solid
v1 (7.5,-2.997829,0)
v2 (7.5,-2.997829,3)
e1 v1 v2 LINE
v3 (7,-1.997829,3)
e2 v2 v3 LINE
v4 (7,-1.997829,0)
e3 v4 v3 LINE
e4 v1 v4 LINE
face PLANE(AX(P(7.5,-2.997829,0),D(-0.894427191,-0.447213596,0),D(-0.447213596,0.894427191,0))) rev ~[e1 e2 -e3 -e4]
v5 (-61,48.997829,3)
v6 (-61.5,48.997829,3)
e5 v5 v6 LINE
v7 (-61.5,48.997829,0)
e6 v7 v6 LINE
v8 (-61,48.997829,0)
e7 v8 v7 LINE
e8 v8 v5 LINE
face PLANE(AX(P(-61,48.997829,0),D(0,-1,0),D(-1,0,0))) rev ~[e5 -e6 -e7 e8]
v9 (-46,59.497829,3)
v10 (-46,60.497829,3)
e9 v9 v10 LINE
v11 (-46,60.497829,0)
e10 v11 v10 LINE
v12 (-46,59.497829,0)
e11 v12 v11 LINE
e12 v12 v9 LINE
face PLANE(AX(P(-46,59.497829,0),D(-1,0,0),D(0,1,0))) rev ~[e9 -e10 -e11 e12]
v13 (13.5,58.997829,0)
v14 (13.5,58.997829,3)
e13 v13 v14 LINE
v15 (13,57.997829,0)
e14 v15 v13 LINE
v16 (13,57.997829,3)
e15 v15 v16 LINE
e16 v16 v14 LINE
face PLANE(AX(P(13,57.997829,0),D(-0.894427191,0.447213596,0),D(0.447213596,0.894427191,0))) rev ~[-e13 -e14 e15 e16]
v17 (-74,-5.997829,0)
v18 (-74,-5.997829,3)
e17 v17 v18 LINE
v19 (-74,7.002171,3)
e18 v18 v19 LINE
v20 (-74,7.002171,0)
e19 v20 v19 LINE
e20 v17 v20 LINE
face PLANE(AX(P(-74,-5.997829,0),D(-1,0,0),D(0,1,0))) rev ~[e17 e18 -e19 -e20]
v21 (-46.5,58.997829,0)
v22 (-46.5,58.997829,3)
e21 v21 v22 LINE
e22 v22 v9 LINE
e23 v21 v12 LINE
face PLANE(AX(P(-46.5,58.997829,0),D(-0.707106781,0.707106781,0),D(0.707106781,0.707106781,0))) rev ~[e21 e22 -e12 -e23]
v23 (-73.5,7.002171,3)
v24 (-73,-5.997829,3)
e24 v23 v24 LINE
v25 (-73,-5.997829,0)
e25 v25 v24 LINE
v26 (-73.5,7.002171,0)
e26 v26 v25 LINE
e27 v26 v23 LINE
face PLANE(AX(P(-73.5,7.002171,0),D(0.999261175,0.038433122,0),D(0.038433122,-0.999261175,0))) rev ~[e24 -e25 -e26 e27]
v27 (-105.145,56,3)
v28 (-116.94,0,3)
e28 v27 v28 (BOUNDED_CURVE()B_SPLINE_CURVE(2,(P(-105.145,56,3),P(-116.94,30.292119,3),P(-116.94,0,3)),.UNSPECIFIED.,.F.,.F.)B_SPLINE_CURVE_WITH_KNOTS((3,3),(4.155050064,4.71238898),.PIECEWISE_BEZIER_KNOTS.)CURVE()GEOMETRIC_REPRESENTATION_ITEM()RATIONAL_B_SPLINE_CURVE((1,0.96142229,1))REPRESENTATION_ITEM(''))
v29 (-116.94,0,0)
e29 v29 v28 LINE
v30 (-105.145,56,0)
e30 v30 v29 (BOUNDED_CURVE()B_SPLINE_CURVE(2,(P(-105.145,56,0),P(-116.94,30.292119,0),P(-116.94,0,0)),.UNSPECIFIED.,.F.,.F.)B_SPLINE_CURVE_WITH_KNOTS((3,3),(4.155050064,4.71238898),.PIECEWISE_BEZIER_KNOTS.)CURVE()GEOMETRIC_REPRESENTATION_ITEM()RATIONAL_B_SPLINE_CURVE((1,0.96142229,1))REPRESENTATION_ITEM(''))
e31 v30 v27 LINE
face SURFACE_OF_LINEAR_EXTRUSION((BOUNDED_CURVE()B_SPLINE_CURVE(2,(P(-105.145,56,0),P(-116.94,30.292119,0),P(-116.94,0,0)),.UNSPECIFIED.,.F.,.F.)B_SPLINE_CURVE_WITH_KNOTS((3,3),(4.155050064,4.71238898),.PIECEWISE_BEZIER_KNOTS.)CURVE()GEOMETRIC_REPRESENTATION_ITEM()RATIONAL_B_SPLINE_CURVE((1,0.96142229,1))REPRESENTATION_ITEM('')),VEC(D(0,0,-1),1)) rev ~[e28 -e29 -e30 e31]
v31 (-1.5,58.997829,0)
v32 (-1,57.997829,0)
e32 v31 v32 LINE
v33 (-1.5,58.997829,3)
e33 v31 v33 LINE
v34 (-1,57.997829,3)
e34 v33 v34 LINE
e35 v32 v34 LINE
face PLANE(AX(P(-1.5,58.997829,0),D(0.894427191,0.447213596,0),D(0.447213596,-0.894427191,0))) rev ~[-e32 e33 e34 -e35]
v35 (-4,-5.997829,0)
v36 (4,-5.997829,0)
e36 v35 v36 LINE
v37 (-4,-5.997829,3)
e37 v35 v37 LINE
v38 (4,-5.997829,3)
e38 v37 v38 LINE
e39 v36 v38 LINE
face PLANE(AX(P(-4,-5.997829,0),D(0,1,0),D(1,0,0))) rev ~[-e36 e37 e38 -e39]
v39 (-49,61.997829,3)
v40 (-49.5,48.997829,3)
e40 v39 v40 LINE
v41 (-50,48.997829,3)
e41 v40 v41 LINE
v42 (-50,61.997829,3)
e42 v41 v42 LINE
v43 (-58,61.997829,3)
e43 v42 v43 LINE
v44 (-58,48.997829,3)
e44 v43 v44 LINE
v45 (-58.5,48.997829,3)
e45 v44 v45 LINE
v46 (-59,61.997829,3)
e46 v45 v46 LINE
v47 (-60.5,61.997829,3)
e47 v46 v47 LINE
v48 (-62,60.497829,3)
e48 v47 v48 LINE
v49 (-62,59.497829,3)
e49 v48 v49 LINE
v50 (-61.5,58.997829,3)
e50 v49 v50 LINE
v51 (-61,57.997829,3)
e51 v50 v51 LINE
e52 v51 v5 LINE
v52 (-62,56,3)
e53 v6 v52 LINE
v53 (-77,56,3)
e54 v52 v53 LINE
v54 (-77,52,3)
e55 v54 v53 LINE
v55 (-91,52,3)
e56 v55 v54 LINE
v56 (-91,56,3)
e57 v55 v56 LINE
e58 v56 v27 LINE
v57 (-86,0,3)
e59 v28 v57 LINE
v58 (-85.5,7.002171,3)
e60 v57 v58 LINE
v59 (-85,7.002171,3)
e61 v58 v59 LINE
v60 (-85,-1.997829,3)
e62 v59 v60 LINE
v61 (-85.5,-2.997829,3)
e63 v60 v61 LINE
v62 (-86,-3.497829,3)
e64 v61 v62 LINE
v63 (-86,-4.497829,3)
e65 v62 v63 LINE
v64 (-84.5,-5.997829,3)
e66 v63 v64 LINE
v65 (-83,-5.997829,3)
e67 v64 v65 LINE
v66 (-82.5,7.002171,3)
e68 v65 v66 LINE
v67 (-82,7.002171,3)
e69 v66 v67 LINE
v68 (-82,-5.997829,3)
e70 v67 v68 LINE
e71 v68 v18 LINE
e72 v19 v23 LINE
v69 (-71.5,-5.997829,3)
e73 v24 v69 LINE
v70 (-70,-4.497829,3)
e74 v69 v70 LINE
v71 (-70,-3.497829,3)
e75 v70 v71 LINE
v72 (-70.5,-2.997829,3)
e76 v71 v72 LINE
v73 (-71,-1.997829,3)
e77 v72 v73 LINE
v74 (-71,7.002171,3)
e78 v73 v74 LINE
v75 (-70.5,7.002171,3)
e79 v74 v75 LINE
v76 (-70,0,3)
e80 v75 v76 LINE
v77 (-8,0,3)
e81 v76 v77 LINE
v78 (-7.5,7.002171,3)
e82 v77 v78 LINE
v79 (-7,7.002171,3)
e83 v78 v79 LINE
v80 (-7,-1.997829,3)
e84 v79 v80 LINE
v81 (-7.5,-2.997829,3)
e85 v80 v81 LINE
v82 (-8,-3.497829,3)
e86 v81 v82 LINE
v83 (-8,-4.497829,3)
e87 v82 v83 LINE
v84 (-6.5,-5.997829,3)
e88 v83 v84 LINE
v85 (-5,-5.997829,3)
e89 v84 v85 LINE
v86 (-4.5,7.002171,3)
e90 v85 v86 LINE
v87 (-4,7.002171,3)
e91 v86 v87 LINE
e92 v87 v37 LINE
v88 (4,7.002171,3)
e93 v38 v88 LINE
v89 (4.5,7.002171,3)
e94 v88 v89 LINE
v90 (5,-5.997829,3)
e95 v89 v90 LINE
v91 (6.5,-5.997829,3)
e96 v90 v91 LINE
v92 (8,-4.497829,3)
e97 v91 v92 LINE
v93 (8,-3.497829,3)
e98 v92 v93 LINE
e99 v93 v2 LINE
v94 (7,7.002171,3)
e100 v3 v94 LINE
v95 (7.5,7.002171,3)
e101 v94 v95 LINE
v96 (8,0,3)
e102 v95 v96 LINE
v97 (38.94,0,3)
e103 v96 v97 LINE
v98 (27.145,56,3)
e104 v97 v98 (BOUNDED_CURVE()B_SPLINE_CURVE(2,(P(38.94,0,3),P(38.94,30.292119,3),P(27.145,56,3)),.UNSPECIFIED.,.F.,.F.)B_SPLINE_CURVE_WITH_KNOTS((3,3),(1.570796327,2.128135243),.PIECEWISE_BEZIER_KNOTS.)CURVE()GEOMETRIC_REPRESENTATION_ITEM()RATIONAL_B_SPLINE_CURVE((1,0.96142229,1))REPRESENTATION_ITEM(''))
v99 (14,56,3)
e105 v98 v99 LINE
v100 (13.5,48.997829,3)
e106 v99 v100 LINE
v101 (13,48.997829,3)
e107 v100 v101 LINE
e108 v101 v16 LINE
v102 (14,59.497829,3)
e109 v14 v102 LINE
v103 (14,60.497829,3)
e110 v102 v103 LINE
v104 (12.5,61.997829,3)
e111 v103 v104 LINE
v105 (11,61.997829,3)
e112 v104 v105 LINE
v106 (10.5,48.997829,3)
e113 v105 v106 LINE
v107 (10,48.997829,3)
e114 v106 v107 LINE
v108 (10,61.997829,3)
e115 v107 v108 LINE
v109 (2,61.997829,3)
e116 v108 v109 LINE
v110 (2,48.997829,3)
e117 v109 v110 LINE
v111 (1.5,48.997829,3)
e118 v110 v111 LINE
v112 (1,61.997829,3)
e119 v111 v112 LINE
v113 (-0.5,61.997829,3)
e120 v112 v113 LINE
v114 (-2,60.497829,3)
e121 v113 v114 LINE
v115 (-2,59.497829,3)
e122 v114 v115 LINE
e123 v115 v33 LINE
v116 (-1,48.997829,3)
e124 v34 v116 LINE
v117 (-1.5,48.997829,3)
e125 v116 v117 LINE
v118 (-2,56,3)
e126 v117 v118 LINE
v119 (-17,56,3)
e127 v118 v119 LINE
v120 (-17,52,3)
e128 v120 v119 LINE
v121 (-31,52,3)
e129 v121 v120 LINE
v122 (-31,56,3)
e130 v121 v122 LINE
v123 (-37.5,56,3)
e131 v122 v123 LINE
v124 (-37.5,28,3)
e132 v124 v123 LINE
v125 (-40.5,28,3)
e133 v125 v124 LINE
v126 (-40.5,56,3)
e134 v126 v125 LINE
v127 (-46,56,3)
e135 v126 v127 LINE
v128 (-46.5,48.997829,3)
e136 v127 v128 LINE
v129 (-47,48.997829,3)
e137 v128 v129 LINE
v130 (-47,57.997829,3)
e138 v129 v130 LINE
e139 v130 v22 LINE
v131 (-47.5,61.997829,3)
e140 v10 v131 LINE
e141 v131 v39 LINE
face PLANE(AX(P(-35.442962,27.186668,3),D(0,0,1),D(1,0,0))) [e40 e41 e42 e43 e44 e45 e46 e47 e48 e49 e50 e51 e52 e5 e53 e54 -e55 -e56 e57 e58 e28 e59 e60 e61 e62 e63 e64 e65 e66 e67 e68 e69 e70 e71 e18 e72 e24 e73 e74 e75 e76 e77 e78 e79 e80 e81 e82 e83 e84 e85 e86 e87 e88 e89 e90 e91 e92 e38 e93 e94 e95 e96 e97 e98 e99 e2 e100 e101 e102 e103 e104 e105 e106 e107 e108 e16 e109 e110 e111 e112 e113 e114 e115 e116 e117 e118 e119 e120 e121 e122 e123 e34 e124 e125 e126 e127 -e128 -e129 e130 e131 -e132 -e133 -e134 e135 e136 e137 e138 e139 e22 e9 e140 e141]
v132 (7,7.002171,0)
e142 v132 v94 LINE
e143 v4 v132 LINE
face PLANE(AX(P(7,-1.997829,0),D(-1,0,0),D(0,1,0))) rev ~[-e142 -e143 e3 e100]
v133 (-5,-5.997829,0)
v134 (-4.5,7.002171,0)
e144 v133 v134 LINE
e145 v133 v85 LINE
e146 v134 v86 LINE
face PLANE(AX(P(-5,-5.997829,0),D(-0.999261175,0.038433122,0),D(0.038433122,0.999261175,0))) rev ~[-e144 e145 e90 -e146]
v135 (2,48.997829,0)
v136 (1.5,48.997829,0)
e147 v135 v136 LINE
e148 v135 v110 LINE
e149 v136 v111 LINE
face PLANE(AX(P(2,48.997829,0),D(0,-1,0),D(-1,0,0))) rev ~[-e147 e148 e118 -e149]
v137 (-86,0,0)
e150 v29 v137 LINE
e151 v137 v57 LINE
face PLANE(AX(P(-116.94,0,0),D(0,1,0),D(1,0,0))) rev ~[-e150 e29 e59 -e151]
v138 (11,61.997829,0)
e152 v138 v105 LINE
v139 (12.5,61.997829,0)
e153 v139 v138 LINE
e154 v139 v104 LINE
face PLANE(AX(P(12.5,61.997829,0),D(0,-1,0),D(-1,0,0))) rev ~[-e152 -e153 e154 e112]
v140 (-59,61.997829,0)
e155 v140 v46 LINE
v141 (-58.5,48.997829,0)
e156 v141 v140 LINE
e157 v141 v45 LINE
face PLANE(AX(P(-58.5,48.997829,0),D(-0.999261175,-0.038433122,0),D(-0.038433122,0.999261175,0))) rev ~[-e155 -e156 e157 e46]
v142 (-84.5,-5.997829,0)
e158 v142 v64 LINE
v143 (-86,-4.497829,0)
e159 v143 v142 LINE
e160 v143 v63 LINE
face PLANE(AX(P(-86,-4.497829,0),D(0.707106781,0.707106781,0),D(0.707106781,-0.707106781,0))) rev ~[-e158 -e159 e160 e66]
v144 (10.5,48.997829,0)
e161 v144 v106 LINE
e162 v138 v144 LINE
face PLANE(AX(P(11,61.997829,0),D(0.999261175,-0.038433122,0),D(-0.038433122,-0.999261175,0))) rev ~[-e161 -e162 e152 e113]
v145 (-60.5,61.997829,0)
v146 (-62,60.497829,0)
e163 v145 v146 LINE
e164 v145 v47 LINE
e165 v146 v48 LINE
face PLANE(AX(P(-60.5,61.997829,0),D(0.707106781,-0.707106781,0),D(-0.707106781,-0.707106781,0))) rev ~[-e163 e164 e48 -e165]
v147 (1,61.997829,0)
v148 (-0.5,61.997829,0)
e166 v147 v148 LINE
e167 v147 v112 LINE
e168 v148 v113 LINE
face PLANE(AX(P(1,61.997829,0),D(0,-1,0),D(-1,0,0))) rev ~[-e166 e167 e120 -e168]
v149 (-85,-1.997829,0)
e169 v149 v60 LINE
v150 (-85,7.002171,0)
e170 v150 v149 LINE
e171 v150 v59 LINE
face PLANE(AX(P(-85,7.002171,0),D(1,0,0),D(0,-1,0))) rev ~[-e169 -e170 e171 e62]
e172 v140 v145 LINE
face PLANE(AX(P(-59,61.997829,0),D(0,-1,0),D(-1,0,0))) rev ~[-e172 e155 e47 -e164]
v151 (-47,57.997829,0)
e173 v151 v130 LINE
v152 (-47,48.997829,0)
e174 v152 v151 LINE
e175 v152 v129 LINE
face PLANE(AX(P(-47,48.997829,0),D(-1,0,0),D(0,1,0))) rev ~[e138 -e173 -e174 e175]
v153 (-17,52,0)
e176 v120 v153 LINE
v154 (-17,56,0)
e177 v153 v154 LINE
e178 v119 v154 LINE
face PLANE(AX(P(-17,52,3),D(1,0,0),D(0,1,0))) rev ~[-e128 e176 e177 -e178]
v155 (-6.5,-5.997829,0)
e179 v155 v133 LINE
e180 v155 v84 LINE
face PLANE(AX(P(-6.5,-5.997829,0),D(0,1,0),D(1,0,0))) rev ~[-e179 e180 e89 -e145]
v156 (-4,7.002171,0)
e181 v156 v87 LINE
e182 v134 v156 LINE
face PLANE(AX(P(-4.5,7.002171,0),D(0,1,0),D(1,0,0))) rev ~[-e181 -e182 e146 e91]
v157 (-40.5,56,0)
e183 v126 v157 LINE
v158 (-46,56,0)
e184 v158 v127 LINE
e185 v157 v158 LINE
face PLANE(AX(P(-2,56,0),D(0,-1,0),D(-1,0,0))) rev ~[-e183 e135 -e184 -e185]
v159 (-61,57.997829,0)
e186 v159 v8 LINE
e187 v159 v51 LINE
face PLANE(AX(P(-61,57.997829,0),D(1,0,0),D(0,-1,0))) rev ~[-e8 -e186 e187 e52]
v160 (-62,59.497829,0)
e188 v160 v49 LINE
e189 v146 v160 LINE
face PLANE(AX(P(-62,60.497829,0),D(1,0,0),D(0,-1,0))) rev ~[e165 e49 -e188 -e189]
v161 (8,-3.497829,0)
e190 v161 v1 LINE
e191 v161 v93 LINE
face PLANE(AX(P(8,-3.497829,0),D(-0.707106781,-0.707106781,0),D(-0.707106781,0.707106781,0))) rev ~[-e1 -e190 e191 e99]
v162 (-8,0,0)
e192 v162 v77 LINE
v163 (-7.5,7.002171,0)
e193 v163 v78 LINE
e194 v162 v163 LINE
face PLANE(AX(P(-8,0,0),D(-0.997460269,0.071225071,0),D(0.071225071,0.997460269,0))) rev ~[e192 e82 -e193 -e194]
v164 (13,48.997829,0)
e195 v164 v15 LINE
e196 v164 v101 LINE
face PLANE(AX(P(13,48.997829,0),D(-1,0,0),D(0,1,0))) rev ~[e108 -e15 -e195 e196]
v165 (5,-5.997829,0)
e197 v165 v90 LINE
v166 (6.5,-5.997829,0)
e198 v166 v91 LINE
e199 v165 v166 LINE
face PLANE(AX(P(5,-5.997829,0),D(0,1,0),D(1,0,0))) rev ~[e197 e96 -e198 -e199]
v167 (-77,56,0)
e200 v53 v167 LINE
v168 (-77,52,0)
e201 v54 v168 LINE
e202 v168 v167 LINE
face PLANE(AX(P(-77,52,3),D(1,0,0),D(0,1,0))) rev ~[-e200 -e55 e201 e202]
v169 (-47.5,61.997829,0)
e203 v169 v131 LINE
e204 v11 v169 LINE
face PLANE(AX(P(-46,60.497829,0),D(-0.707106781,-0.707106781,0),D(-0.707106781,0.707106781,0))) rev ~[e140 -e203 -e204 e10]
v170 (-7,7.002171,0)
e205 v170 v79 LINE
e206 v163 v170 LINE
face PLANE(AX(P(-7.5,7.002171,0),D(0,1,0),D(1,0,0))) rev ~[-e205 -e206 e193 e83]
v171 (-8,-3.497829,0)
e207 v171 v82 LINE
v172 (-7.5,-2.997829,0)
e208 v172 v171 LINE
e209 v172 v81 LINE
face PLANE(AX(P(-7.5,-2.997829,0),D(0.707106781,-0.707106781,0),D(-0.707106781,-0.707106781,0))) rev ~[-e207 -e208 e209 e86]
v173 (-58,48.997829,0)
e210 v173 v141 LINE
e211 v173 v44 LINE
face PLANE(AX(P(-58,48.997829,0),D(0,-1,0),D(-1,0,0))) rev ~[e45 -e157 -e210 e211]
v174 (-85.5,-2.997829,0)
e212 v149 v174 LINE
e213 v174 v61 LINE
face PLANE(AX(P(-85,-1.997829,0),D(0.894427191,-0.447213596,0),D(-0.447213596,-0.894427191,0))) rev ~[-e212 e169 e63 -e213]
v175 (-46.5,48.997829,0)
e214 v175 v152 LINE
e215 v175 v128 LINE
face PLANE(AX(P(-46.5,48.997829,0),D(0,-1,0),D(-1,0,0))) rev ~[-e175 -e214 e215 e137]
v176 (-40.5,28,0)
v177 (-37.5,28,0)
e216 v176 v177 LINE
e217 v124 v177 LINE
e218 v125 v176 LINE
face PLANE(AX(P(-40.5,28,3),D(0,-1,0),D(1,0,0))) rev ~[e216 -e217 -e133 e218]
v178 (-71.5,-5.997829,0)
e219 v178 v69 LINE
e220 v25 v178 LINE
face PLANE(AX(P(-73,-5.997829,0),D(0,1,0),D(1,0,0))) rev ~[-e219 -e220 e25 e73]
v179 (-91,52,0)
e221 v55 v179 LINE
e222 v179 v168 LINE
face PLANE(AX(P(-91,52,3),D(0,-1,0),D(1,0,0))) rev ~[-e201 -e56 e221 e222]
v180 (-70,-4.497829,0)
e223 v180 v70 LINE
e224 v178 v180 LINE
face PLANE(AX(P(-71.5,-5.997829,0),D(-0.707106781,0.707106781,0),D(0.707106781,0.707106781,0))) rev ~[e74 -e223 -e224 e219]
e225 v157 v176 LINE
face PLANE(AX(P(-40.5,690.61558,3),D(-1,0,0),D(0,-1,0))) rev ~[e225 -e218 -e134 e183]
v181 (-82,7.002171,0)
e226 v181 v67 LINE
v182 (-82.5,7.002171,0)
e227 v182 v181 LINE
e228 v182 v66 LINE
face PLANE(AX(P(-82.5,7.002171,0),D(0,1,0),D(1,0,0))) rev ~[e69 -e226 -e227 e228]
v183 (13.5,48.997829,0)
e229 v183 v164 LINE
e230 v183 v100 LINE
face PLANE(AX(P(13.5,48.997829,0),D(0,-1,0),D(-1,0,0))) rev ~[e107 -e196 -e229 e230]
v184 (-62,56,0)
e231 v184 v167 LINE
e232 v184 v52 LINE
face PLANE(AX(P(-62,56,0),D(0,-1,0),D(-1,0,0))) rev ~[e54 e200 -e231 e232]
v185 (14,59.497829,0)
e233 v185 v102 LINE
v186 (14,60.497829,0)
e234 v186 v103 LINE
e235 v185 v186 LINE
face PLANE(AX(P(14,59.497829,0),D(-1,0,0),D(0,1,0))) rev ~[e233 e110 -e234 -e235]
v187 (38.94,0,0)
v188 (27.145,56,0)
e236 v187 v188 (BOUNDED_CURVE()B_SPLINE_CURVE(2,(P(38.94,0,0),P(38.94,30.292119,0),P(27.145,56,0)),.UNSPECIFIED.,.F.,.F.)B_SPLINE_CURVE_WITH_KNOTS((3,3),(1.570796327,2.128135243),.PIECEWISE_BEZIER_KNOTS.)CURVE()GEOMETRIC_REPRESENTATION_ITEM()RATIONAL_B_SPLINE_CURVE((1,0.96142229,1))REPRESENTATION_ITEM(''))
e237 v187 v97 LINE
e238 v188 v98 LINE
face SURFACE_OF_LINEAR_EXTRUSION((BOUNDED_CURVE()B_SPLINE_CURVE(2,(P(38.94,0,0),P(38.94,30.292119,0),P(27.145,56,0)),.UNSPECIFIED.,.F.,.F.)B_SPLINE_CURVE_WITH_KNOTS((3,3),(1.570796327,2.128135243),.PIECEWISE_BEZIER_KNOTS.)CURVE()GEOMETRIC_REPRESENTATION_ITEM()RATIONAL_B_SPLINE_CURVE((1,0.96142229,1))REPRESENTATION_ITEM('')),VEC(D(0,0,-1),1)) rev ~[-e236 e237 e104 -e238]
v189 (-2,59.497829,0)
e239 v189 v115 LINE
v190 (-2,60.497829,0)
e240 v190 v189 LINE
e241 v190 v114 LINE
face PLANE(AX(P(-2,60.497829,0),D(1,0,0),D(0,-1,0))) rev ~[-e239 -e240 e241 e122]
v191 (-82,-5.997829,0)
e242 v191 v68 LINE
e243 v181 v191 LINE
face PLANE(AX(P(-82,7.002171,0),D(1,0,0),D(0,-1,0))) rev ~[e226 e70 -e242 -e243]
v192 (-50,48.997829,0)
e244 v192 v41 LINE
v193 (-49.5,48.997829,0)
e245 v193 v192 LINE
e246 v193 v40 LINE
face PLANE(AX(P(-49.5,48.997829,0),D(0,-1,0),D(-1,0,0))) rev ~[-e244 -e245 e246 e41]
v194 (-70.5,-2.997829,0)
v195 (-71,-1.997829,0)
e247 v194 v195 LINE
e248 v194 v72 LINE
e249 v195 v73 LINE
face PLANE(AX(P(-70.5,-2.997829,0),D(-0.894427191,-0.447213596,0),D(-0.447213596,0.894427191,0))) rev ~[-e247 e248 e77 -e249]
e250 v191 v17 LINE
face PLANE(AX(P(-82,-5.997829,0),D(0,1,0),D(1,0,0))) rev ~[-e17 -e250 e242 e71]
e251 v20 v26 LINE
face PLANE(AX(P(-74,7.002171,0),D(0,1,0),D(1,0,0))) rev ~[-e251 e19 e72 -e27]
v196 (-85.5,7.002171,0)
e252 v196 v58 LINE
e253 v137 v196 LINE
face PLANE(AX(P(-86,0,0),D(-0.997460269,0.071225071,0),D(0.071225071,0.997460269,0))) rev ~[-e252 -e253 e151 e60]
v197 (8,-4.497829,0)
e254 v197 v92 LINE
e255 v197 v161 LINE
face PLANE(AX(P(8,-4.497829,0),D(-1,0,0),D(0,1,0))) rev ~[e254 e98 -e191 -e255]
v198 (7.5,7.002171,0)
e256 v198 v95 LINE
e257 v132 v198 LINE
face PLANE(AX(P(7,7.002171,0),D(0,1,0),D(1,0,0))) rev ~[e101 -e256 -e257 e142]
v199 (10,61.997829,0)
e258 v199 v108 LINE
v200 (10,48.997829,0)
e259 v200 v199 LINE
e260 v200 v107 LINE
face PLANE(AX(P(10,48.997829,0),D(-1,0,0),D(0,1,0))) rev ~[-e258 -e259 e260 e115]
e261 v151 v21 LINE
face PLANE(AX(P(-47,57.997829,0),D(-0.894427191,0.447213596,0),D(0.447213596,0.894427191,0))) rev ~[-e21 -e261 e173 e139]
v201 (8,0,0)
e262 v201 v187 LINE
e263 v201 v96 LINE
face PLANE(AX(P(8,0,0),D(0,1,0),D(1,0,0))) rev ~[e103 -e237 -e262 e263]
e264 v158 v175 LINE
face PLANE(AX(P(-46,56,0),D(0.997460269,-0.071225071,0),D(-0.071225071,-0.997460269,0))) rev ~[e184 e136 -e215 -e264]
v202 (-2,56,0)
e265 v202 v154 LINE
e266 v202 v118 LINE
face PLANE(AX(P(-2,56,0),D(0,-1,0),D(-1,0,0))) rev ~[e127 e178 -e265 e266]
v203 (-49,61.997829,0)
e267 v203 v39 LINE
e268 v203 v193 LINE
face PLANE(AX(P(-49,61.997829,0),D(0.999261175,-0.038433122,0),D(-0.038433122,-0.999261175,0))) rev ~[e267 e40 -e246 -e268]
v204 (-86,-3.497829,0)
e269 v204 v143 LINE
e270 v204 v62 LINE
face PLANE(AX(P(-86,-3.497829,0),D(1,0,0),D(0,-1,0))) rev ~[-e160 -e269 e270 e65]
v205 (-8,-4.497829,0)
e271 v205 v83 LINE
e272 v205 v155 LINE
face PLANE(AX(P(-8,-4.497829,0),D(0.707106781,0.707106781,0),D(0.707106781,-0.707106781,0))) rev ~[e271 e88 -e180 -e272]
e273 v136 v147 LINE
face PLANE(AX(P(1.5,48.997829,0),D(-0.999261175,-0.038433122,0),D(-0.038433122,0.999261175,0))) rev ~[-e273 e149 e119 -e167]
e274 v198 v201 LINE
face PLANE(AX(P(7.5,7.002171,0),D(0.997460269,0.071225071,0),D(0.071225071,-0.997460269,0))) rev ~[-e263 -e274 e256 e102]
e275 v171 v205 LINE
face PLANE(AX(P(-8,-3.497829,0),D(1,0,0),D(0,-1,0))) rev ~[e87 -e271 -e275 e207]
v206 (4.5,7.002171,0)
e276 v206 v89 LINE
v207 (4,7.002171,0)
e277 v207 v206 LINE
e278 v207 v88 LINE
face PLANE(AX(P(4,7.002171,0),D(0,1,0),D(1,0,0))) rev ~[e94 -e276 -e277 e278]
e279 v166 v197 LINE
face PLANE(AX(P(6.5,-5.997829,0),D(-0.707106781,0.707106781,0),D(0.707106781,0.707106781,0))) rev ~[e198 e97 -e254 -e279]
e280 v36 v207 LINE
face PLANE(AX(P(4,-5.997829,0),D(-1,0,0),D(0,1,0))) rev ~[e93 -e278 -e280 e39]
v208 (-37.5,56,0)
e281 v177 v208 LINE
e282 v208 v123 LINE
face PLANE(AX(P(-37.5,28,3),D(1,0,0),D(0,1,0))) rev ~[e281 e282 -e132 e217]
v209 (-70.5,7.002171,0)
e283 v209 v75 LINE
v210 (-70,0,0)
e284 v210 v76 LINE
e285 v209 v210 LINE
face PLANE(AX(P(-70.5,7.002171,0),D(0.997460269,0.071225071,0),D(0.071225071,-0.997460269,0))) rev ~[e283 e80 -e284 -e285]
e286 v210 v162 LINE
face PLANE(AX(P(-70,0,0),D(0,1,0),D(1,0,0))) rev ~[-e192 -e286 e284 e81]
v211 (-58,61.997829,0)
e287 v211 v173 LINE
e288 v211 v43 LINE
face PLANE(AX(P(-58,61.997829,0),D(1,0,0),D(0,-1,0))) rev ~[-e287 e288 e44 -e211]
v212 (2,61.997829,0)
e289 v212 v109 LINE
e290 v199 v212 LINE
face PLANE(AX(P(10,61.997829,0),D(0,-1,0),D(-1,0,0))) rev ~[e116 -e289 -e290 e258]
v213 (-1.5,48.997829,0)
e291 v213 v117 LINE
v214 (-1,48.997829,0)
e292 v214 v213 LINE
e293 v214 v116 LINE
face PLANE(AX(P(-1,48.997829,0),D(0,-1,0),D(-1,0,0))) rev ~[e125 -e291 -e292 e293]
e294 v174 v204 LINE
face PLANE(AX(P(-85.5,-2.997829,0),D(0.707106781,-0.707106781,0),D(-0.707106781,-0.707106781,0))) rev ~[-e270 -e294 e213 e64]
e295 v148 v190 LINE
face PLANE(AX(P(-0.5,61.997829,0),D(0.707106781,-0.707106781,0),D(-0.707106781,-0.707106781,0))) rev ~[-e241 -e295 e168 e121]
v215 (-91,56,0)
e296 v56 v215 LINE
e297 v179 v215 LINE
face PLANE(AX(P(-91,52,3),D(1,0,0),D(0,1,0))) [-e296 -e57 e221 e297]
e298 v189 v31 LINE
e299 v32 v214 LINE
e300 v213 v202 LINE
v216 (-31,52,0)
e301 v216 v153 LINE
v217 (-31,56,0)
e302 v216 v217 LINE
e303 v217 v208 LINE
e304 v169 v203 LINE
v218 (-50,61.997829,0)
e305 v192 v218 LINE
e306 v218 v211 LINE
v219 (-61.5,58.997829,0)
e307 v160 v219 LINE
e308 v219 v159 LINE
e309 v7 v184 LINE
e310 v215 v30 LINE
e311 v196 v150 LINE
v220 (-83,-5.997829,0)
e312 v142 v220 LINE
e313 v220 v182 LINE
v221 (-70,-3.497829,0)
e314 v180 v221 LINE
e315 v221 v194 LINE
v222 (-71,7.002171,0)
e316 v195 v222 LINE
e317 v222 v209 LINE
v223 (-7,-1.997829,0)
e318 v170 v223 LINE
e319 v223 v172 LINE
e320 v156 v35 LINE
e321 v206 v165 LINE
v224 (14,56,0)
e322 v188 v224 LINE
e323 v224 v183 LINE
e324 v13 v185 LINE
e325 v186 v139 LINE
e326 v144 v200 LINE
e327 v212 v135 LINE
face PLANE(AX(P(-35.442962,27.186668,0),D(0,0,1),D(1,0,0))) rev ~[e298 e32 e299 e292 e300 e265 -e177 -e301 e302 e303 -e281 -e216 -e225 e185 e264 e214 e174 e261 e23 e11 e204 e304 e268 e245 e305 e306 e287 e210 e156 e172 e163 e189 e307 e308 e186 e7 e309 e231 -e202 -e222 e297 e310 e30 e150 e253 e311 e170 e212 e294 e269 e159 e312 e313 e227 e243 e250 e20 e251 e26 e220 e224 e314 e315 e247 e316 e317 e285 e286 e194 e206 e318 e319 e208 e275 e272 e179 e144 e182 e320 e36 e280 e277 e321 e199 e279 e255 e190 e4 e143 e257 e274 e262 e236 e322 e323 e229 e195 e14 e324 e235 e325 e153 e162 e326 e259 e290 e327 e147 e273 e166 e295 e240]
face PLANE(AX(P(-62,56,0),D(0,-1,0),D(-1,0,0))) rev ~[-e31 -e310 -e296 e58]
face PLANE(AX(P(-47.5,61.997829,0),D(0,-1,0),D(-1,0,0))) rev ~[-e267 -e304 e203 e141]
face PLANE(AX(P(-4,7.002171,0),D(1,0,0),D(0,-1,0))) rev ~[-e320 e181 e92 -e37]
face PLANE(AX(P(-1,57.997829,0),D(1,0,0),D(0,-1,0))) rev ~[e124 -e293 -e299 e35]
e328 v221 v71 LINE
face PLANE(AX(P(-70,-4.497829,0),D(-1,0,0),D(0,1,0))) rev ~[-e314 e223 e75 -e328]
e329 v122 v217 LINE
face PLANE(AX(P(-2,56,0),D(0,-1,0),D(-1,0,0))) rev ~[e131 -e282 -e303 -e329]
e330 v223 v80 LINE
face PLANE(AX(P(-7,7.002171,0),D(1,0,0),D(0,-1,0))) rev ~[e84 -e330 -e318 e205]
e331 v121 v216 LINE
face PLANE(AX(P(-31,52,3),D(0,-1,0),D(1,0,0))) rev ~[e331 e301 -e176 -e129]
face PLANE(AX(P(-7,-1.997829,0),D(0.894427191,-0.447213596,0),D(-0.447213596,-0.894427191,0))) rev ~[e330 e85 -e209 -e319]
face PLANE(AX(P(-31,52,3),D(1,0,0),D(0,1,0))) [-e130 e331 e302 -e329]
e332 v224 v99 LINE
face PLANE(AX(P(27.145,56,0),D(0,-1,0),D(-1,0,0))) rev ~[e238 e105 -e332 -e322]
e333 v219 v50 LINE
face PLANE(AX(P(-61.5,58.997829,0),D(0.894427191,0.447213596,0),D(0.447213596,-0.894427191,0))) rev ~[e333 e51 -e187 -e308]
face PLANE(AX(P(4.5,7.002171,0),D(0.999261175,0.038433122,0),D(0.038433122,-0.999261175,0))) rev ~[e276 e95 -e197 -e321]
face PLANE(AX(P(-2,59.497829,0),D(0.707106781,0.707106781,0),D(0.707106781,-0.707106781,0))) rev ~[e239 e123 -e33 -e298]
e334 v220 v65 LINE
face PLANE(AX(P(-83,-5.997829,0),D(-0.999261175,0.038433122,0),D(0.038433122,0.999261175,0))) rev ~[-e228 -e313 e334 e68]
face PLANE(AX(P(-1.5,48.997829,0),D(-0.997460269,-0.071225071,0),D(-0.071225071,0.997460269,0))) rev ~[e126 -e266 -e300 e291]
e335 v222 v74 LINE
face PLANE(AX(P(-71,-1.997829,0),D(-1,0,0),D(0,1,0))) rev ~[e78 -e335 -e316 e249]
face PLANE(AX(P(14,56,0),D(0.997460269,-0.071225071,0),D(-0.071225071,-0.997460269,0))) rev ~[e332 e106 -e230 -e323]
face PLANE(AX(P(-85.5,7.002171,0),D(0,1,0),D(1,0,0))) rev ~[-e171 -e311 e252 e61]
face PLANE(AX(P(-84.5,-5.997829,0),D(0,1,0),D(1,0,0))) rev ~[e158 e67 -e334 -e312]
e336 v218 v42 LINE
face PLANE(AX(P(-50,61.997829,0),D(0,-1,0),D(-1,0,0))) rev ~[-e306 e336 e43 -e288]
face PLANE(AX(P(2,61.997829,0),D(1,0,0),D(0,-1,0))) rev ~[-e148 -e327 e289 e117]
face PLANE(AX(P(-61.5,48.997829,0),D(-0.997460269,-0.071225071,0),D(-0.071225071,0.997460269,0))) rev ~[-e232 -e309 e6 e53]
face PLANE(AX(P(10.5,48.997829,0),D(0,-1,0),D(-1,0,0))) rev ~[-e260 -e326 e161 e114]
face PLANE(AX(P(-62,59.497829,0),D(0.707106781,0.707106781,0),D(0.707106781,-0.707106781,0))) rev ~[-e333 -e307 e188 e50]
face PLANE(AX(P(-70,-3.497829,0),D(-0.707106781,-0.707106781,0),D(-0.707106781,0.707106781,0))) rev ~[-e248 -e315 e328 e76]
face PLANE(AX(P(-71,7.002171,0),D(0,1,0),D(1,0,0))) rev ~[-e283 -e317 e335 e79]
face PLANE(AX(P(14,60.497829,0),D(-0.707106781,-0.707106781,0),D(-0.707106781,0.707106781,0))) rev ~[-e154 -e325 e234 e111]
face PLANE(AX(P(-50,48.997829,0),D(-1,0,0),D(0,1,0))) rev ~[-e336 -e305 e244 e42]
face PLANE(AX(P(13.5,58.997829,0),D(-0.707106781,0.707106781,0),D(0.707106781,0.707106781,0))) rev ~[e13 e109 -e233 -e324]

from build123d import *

# Parameters (mm, degrees)
BOSS_EXTRUDE1_DEPTH     = 3
SKETCH9_W               = 14
SKETCH9_H               = 4
CUT_EXTRUDE3_DEPTH      = 4.0000001
CUT_EXTRUDE4_DEPTH      = 1.0000001
CUT_EXTRUDE4_DEPTH_BACK = 3


with BuildPart() as part:
    # Sketch1 → Boss-Extrude1 (new body)
    with BuildSketch(Plane.XY):
        with BuildLine():
            Line((-39, 0), (-8, 0))
            Line((-8, 0), (-7.5, 7.002171092))
            Line((-7.5, 7.002171092), (-7, 7.002171092))
            Line((-7, 7.002171092), (-7, -1.997828908))
            Line((-7, -1.997828908), (-7.5, -2.997828908))
            Line((-7.5, -2.997828908), (-8, -3.497828908))
            Line((-8, -3.497828908), (-8, -4.497828908))
            Line((-8, -4.497828908), (-6.5, -5.997828908))
            Line((-6.5, -5.997828908), (-5, -5.997828908))
            Line((-5, -5.997828908), (-4.5, 7.002171092))
            Line((-4.5, 7.002171092), (-4, 7.002171092))
            Line((-4, 7.002171092), (-4, -5.997828908))
            Line((-4, -5.997828908), (4, -5.997828908))
            Line((4, -5.997828908), (4, 7.002171092))
            Line((4, 7.002171092), (4.5, 7.002171092))
            Line((4.5, 7.002171092), (5, -5.997828908))
            Line((5, -5.997828908), (6.5, -5.997828908))
            Line((6.5, -5.997828908), (8, -4.497828908))
            Line((8, -4.497828908), (8, -3.497828908))
            Line((8, -3.497828908), (7.5, -2.997828908))
            Line((7.5, -2.997828908), (7, -1.997828908))
            Line((7, -1.997828908), (7, 7.002171092))
            Line((7, 7.002171092), (7.5, 7.002171092))
            Line((7.5, 7.002171092), (8, 0))
            Line((8, 0), (38.94, 0))
            add(Edge.make_bspline(
                [(38.94, 0), (38.94, 30.292119235), (27.145, 56)],
                knots=[1.570796327, 1.570796327, 1.570796327, 2.128135243, 2.128135243, 2.128135243], degree=2, weights=[1, 0.96142229, 1]))
            Line((27.145, 56), (14, 56))
            Line((14, 56), (13.5, 48.997828908))
            Line((13.5, 48.997828908), (13, 48.997828908))
            Line((13, 48.997828908), (13, 57.997828908))
            Line((13, 57.997828908), (13.5, 58.997828908))
            Line((13.5, 58.997828908), (14, 59.497828908))
            Line((14, 59.497828908), (14, 60.497828908))
            Line((14, 60.497828908), (12.5, 61.997828908))
            Line((12.5, 61.997828908), (11, 61.997828908))
            Line((11, 61.997828908), (10.5, 48.997828908))
            Line((10.5, 48.997828908), (10, 48.997828908))
            Line((10, 48.997828908), (10, 61.997828908))
            Line((10, 61.997828908), (2, 61.997828908))
            Line((2, 61.997828908), (2, 48.997828908))
            Line((2, 48.997828908), (1.5, 48.997828908))
            Line((1.5, 48.997828908), (1, 61.997828908))
            Line((1, 61.997828908), (-0.5, 61.997828908))
            Line((-0.5, 61.997828908), (-2, 60.497828908))
            Line((-2, 60.497828908), (-2, 59.497828908))
            Line((-2, 59.497828908), (-1.5, 58.997828908))
            Line((-1.5, 58.997828908), (-1, 57.997828908))
            Line((-1, 57.997828908), (-1, 48.997828908))
            Line((-1, 48.997828908), (-1.5, 48.997828908))
            Line((-1.5, 48.997828908), (-2, 56))
            Line((-2, 56), (-46, 56))
            Line((-46, 56), (-46.5, 48.997828908))
            Line((-46.5, 48.997828908), (-47, 48.997828908))
            Line((-47, 48.997828908), (-47, 57.997828908))
            Line((-47, 57.997828908), (-46.5, 58.997828908))
            Line((-46.5, 58.997828908), (-46, 59.497828908))
            Line((-46, 59.497828908), (-46, 60.497828908))
            Line((-46, 60.497828908), (-47.5, 61.997828908))
            Line((-47.5, 61.997828908), (-49, 61.997828908))
            Line((-49, 61.997828908), (-49.5, 48.997828908))
            Line((-49.5, 48.997828908), (-50, 48.997828908))
            Line((-50, 48.997828908), (-50, 61.997828908))
            Line((-50, 61.997828908), (-58, 61.997828908))
            Line((-58, 61.997828908), (-58, 48.997828908))
            Line((-58, 48.997828908), (-58.5, 48.997828908))
            Line((-58.5, 48.997828908), (-59, 61.997828908))
            Line((-59, 61.997828908), (-60.5, 61.997828908))
            Line((-60.5, 61.997828908), (-62, 60.497828908))
            Line((-62, 60.497828908), (-62, 59.497828908))
            Line((-62, 59.497828908), (-61.5, 58.997828908))
            Line((-61.5, 58.997828908), (-61, 57.997828908))
            Line((-61, 57.997828908), (-61, 48.997828908))
            Line((-61, 48.997828908), (-61.5, 48.997828908))
            Line((-61.5, 48.997828908), (-62, 56))
            Line((-62, 56), (-105.145, 56))
            add(Edge.make_bspline(
                [(-105.145, 56), (-116.94, 30.292119235), (-116.94, 0)],
                knots=[4.155050064, 4.155050064, 4.155050064, 4.71238898, 4.71238898, 4.71238898], degree=2, weights=[1, 0.96142229, 1]))
            Line((-116.94, 0), (-86, 0))
            Line((-86, 0), (-85.5, 7.002171092))
            Line((-85.5, 7.002171092), (-85, 7.002171092))
            Line((-85, 7.002171092), (-85, -1.997828908))
            Line((-85, -1.997828908), (-85.5, -2.997828908))
            Line((-85.5, -2.997828908), (-86, -3.497828908))
            Line((-86, -3.497828908), (-86, -4.497828908))
            Line((-86, -4.497828908), (-84.5, -5.997828908))
            Line((-84.5, -5.997828908), (-83, -5.997828908))
            Line((-83, -5.997828908), (-82.5, 7.002171092))
            Line((-82.5, 7.002171092), (-82, 7.002171092))
            Line((-82, 7.002171092), (-82, -5.997828908))
            Line((-82, -5.997828908), (-74, -5.997828908))
            Line((-74, -5.997828908), (-74, 7.002171092))
            Line((-74, 7.002171092), (-73.5, 7.002171092))
            Line((-73.5, 7.002171092), (-73, -5.997828908))
            Line((-73, -5.997828908), (-71.5, -5.997828908))
            Line((-71.5, -5.997828908), (-70, -4.497828908))
            Line((-70, -4.497828908), (-70, -3.497828908))
            Line((-70, -3.497828908), (-70.5, -2.997828908))
            Line((-70.5, -2.997828908), (-71, -1.997828908))
            Line((-71, -1.997828908), (-71, 7.002171092))
            Line((-71, 7.002171092), (-70.5, 7.002171092))
            Line((-70.5, 7.002171092), (-70, 0))
            Line((-70, 0), (-39, 0))
        make_face()
    extrude(amount=BOSS_EXTRUDE1_DEPTH)

    # Sketch9 → Cut-Extrude3 (cut, through all)
    with BuildSketch(Plane.XY.offset(3)):
        with Locations((-24, 54)):
            Rectangle(SKETCH9_W, SKETCH9_H)
        with Locations((-84, 54)):
            Rectangle(SKETCH9_W, SKETCH9_H)
    extrude(amount=-CUT_EXTRUDE3_DEPTH, mode=Mode.SUBTRACT)

    # Sketch11 → Cut-Extrude4 (cut, two sides)
    with BuildSketch(Plane.XY.offset(3)) as cut_extrude4_sk:
        Polygon((-40.5, 267.538526516), (-40.5, 56), (-40.5, 28), (-37.5, 28), (-37.5, 56), (-37.5, 267.538526516), (-37.5, 690.615579549), (-40.5, 690.615579549), align=None)
    extrude(amount=CUT_EXTRUDE4_DEPTH, mode=Mode.SUBTRACT)
    extrude(cut_extrude4_sk.sketch, amount=-CUT_EXTRUDE4_DEPTH_BACK, mode=Mode.SUBTRACT)


solid = part.part
